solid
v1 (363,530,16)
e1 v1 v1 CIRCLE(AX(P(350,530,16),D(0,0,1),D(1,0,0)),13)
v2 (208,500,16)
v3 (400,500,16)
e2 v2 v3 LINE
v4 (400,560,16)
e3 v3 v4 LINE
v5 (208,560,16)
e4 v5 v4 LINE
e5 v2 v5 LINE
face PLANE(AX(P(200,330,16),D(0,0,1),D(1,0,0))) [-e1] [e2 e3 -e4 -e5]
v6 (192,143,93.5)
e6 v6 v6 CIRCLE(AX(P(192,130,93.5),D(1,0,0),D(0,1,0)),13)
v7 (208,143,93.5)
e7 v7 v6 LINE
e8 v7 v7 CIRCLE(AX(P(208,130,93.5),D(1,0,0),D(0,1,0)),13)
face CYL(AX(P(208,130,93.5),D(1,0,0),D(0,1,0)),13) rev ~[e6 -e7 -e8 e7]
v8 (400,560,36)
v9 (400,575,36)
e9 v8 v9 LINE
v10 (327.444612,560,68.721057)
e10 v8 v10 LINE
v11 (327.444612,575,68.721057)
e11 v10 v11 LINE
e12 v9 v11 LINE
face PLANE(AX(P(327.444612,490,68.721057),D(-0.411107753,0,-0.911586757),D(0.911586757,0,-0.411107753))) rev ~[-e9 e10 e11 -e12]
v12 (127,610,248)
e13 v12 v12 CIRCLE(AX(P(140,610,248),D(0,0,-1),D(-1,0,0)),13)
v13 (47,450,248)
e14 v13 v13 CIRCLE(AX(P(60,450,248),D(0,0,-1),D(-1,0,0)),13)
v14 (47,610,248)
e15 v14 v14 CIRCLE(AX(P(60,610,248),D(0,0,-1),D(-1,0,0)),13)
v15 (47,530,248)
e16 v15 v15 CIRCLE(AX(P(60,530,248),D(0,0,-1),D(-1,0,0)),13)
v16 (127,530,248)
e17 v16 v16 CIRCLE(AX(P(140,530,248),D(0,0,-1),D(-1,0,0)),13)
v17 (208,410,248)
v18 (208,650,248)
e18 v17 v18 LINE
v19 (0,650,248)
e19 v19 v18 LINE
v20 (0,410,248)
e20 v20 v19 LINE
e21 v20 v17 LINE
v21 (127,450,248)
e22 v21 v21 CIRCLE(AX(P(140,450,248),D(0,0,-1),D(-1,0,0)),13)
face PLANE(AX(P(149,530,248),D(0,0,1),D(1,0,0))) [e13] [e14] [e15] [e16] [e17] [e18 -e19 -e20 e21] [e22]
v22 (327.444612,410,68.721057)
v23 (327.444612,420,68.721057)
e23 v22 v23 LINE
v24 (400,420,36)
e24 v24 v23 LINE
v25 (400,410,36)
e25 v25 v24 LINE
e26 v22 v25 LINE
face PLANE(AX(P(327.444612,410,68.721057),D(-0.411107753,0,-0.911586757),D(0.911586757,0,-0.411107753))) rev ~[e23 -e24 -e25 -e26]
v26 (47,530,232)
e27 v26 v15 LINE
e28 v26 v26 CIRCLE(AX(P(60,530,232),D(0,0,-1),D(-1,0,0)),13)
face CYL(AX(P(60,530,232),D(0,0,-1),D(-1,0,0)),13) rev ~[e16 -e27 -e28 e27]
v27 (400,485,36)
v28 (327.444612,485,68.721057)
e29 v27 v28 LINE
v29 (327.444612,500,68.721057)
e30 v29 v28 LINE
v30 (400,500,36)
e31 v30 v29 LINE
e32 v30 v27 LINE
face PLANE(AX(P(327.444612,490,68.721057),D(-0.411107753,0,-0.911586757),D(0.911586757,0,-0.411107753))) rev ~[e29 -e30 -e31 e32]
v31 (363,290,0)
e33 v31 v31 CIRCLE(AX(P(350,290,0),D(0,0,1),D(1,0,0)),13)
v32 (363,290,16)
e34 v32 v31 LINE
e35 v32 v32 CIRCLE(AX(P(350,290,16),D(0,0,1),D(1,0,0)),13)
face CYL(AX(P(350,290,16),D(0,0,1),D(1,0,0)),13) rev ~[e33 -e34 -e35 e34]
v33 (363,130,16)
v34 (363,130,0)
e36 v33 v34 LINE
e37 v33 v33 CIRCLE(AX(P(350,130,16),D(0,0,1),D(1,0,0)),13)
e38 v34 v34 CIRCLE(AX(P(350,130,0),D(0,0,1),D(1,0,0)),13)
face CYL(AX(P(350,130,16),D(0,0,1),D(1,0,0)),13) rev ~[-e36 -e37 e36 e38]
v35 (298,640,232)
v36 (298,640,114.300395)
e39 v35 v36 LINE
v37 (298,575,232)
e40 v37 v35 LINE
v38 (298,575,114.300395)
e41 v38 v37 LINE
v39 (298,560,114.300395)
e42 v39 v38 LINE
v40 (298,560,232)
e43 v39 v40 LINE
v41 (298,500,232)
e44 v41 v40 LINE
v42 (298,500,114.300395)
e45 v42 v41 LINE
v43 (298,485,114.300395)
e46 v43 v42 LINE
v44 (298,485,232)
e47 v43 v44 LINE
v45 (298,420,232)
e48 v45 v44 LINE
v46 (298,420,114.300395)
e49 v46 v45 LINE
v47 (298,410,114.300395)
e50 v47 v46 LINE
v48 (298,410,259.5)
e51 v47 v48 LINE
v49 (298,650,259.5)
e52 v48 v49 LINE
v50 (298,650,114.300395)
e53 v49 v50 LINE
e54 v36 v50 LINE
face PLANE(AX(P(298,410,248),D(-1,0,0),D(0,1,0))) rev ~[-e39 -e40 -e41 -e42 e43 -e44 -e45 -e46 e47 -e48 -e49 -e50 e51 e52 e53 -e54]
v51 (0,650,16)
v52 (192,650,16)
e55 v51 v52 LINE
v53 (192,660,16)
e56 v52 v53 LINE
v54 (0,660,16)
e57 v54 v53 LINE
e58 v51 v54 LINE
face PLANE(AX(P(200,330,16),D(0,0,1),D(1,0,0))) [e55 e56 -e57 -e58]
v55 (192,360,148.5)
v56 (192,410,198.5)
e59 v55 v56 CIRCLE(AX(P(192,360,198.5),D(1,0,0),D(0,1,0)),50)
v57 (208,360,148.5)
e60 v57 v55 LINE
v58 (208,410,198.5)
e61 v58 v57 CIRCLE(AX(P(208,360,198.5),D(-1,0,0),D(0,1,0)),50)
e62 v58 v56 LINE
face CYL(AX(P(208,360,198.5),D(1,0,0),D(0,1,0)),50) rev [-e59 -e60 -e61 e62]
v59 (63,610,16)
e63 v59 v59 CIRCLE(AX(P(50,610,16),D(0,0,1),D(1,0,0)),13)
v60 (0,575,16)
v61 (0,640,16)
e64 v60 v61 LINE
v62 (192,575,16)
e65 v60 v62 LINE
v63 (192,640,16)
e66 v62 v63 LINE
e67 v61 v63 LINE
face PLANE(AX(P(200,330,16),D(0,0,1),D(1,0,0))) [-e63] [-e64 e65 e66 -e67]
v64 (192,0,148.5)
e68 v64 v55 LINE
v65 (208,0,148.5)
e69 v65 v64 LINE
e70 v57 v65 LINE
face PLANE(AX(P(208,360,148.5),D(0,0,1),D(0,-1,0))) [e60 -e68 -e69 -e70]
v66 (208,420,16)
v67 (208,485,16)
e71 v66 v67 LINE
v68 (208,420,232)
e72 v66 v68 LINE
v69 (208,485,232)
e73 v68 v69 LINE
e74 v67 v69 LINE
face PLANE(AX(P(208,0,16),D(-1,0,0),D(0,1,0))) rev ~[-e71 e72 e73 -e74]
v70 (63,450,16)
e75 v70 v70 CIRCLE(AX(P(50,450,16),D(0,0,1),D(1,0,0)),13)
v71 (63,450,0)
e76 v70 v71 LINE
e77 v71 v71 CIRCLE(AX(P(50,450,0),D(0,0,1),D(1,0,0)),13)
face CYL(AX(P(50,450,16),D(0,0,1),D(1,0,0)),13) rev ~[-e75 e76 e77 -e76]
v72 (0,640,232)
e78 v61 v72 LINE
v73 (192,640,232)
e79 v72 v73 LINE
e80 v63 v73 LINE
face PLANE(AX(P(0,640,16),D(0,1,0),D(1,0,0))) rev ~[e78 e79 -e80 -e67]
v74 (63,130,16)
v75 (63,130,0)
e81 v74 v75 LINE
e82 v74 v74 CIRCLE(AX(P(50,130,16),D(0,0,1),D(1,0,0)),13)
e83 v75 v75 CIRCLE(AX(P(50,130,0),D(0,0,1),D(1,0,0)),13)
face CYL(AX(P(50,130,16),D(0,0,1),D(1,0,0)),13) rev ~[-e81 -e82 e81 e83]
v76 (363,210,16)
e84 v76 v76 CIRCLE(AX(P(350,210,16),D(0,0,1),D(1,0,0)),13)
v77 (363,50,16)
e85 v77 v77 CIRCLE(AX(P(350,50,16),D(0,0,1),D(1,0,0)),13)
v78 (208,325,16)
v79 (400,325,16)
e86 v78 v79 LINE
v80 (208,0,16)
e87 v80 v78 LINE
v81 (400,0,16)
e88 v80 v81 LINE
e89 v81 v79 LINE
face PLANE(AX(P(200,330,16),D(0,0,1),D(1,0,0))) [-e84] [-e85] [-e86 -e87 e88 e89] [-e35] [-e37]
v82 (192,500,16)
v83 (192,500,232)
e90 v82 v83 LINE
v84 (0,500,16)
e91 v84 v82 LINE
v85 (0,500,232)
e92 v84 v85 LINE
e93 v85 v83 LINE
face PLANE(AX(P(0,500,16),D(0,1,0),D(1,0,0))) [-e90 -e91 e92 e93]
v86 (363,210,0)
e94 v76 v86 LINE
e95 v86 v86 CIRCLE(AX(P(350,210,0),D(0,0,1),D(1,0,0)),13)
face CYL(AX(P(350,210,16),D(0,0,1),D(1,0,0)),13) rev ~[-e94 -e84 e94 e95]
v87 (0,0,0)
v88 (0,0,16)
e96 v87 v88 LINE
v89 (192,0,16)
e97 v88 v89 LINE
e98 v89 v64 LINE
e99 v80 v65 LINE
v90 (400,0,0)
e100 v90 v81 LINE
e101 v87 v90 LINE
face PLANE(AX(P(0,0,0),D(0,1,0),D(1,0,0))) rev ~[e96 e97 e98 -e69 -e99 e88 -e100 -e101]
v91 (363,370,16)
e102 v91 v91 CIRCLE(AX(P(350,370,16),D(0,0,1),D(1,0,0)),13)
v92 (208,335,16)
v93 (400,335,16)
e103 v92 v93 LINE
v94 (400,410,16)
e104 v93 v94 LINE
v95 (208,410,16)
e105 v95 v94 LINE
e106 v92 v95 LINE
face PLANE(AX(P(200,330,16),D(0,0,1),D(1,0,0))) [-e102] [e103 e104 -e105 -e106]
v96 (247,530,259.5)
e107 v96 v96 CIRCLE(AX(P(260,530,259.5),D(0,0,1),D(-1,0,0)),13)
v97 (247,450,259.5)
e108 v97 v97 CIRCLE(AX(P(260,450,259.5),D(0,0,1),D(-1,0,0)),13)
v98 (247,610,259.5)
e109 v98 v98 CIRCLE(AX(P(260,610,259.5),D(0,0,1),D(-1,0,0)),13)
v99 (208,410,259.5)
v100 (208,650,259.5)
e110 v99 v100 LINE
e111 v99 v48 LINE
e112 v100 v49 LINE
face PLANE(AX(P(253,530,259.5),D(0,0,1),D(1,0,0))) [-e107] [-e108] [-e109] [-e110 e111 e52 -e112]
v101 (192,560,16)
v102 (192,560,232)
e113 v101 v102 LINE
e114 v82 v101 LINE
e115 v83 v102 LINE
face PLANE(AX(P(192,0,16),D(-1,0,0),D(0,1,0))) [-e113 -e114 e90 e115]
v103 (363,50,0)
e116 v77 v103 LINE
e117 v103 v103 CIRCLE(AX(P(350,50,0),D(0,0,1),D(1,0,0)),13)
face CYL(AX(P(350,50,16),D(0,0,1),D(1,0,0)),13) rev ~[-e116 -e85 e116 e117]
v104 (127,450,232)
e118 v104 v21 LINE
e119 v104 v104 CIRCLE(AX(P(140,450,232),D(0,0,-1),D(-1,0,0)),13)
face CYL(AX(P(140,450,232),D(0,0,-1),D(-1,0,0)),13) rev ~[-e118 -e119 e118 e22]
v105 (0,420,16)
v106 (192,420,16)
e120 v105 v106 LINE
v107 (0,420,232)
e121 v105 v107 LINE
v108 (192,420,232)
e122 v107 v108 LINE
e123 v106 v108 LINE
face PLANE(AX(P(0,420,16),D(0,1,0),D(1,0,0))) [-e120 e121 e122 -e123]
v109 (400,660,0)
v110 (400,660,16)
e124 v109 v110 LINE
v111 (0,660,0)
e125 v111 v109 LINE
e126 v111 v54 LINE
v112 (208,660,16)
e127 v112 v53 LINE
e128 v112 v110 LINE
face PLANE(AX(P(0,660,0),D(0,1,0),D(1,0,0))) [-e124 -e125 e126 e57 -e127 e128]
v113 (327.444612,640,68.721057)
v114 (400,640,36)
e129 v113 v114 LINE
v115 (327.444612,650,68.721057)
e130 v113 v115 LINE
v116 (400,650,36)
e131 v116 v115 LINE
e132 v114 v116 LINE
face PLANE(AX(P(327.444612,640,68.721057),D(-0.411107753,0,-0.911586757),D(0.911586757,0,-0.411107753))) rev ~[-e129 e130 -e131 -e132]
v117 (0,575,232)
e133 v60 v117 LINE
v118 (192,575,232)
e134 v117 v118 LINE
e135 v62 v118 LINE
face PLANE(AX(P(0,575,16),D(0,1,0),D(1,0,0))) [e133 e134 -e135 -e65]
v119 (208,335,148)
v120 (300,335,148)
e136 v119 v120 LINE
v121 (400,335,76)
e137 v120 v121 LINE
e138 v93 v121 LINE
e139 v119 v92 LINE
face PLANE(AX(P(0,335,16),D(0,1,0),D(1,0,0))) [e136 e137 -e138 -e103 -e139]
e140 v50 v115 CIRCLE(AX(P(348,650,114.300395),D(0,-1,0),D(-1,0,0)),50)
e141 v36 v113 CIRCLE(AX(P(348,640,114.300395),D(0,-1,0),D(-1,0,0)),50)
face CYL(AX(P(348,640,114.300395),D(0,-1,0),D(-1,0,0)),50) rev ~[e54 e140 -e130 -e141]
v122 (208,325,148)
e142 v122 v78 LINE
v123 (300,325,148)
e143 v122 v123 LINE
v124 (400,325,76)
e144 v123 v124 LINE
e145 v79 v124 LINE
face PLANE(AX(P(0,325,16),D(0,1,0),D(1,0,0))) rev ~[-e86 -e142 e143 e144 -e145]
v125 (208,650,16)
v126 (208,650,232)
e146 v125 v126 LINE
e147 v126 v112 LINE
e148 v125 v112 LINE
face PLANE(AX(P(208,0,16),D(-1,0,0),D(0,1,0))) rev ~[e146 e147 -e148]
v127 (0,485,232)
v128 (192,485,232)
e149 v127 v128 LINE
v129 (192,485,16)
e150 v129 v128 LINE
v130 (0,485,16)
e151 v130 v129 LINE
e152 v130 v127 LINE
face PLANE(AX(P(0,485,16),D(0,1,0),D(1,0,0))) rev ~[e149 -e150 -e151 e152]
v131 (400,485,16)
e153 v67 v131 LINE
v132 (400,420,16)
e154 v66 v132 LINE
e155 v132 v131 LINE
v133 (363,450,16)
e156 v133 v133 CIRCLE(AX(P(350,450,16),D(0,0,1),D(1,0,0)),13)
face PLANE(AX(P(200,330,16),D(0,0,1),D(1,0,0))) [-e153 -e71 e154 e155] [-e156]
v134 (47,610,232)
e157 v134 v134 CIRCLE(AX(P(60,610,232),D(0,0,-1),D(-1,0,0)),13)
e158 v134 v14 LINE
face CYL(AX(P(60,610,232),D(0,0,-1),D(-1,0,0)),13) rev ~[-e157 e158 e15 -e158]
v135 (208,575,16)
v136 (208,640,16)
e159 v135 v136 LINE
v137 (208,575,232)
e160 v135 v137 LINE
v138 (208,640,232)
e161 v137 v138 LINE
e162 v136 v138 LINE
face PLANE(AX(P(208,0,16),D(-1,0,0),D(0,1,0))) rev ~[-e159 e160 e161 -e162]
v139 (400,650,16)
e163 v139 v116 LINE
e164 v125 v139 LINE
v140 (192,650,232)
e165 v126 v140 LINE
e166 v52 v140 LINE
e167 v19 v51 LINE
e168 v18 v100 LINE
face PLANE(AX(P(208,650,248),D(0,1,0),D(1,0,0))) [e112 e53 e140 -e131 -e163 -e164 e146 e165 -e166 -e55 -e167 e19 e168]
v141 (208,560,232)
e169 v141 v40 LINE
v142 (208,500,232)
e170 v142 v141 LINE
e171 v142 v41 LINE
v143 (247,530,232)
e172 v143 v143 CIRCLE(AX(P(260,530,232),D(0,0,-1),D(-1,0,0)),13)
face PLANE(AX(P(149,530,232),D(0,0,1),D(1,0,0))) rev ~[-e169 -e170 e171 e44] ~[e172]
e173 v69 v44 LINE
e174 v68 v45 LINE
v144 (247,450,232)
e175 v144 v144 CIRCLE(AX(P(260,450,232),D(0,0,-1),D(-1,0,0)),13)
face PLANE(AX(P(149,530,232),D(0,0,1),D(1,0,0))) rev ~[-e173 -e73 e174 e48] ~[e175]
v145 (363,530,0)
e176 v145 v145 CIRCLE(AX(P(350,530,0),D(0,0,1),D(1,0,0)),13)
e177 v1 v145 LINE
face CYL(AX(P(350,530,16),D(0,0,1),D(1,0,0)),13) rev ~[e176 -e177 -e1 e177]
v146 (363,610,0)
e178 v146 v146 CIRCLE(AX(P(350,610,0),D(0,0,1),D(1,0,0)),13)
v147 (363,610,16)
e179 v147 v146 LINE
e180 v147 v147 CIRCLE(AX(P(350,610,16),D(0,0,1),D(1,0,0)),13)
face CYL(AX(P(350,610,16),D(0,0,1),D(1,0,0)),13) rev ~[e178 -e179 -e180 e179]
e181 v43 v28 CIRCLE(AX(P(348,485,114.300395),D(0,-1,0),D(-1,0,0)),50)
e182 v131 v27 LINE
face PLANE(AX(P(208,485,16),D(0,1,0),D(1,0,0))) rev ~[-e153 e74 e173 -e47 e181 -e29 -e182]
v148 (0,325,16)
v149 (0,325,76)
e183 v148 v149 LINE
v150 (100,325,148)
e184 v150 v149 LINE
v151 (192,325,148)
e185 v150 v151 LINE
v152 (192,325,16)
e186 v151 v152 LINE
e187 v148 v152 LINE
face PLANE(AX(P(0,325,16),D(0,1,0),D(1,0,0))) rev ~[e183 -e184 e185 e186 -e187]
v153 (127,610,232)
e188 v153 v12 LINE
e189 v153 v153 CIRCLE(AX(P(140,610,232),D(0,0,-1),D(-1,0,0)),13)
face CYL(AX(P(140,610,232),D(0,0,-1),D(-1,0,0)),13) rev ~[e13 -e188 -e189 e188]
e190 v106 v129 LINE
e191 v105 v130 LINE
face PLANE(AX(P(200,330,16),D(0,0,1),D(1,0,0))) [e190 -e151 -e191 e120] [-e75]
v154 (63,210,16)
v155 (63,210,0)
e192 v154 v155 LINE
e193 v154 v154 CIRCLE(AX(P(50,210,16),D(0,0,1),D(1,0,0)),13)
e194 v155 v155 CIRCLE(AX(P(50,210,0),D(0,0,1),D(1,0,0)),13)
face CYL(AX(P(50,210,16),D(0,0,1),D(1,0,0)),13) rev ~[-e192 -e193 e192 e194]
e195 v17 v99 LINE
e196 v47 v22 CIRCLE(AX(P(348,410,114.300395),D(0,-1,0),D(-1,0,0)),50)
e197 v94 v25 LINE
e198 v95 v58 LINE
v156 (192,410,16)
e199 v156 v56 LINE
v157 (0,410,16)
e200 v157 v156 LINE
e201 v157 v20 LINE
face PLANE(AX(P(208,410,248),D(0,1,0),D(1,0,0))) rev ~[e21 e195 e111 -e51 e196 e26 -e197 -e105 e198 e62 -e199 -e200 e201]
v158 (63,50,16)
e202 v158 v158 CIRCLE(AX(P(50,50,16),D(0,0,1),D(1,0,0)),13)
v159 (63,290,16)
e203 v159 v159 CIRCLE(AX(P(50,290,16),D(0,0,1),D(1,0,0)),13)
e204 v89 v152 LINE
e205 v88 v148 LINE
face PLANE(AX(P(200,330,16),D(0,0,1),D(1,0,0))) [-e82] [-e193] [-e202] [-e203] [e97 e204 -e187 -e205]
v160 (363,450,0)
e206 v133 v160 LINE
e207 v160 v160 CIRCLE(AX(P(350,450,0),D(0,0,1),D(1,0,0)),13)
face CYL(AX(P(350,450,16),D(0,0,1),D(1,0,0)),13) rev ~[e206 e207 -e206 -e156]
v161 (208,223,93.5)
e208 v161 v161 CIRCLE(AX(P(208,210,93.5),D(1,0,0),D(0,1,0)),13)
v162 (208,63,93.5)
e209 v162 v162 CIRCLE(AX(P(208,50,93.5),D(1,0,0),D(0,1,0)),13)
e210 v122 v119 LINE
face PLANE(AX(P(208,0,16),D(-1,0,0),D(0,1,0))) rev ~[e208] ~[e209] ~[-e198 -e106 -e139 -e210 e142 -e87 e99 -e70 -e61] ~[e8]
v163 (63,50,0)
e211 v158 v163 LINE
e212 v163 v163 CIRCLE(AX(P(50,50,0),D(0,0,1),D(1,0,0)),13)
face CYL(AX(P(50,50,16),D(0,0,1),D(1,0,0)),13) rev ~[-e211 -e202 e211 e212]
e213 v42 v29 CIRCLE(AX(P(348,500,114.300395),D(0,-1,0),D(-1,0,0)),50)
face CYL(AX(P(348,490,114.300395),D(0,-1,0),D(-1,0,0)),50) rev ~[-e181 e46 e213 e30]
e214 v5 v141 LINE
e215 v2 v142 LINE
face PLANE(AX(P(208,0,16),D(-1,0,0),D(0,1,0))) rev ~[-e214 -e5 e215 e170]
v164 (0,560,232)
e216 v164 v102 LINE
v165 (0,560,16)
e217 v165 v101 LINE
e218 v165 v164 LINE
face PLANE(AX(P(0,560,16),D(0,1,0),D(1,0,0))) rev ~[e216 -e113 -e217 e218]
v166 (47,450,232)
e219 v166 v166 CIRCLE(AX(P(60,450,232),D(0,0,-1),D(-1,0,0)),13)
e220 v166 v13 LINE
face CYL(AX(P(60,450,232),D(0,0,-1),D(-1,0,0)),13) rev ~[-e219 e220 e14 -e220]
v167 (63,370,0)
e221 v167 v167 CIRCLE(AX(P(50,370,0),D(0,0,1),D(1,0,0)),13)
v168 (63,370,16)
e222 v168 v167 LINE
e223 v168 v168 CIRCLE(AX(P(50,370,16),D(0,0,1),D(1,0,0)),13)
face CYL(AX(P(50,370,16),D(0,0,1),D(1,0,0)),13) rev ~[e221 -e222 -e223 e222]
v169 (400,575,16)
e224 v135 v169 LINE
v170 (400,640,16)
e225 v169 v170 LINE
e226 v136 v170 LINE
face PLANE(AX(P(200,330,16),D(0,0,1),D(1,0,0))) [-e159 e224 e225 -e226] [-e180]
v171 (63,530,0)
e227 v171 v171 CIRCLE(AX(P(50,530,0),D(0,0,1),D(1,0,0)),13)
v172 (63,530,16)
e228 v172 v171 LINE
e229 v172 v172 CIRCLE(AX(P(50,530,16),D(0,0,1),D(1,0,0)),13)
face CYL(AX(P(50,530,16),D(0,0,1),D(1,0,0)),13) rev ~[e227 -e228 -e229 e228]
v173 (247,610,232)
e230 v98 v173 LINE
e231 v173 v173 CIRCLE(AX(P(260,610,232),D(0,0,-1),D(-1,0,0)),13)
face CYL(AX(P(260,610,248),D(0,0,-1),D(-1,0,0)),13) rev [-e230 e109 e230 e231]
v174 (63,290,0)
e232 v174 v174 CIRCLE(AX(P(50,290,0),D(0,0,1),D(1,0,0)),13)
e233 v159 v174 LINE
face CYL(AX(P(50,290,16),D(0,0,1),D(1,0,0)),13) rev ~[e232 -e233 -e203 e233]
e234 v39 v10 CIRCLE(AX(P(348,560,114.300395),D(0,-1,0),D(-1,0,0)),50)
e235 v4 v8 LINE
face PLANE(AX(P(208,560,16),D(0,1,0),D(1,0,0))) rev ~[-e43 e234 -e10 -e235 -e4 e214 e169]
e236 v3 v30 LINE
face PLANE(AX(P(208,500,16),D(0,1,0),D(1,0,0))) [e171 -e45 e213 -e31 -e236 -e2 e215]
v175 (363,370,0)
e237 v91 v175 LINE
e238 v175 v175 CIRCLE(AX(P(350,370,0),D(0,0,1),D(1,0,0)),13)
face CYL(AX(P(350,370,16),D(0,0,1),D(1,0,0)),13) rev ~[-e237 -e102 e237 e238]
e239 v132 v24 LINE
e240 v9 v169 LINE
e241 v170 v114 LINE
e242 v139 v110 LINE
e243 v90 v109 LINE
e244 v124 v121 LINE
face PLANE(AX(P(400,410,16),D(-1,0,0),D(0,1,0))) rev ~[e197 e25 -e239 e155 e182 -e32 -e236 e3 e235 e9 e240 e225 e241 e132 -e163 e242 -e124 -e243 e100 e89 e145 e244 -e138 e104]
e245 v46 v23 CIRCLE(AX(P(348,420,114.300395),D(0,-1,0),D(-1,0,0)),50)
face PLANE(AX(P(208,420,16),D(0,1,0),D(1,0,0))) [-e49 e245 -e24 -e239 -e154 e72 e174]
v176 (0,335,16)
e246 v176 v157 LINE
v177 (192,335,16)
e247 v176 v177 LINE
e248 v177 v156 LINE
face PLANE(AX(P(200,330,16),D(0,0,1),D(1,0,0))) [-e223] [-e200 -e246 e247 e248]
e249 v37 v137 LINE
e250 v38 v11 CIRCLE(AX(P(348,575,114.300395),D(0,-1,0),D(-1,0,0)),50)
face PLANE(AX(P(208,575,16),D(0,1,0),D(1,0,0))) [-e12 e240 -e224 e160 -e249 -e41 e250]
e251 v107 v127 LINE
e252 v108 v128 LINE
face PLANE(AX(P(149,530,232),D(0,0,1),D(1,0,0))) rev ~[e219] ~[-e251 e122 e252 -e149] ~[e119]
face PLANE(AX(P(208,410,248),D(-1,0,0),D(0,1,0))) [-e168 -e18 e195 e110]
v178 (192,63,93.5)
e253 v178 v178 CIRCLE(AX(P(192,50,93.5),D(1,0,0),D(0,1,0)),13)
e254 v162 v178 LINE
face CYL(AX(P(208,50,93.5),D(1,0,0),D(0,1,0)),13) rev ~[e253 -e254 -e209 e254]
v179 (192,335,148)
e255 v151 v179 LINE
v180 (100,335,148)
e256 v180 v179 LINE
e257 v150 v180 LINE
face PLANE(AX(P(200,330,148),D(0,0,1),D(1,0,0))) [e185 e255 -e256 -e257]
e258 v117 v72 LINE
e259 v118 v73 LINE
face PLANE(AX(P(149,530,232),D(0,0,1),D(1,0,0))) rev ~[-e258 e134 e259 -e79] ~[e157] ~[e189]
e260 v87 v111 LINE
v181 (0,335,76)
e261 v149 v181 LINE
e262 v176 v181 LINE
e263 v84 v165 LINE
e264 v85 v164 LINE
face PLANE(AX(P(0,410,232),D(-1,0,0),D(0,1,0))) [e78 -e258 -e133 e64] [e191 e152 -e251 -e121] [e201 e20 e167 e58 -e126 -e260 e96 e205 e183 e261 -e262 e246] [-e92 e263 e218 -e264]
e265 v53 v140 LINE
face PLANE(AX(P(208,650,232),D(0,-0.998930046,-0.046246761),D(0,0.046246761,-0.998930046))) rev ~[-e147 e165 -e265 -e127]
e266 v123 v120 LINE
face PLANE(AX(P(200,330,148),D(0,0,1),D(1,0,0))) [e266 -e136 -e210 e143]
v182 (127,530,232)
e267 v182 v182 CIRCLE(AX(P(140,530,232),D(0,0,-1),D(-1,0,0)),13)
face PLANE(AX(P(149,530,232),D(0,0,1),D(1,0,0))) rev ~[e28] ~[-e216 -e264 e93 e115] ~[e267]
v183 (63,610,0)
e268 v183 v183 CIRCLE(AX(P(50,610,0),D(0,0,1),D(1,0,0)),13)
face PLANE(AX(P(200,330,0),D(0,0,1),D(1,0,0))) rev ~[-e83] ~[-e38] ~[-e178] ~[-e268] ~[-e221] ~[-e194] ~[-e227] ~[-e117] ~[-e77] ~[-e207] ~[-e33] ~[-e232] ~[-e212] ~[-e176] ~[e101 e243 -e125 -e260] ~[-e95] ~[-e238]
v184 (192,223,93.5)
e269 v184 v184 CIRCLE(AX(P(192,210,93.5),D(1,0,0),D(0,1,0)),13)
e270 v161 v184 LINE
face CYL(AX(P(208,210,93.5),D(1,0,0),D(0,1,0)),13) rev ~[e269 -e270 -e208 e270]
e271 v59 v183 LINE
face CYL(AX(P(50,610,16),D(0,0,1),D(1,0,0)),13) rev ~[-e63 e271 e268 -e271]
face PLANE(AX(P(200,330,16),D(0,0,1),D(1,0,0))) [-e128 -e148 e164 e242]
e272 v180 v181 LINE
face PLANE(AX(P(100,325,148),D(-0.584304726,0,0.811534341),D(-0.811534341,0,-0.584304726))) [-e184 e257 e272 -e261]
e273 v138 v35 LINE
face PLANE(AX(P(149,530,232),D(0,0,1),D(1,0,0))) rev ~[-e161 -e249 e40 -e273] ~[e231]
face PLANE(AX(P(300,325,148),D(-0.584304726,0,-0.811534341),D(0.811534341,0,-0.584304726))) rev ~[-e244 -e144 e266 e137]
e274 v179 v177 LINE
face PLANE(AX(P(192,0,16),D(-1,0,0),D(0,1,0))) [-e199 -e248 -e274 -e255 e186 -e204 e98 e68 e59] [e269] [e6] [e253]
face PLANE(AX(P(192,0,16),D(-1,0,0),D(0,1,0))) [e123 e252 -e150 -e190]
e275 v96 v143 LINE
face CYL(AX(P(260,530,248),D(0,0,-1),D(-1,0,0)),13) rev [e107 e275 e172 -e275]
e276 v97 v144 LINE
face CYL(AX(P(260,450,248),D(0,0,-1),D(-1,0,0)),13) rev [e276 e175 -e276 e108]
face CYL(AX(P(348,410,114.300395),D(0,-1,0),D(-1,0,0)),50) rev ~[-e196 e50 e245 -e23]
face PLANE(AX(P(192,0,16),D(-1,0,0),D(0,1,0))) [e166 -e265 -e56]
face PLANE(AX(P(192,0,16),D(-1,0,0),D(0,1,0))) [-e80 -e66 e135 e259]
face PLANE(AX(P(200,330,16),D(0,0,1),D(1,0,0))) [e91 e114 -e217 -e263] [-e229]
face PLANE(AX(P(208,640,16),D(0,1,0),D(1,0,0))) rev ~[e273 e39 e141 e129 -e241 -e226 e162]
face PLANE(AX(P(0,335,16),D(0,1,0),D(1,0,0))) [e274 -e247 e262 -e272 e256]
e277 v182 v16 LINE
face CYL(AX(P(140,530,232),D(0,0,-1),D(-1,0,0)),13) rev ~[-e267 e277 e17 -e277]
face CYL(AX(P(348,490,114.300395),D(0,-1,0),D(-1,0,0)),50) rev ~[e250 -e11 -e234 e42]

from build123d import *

# Parameters (mm, degrees)
SKETCH_1_W                       = 400
SKETCH_1_H                       = 660
EXTRUDE_1_DEPTH                  = 16
SKETCH_2_R                       = 13
CUT_EXTRUDE_1_DEPTH              = 772.917093994
PATTERN_LINEAR_1_COUNT           = 2
PATTERN_LINEAR_1_PITCH           = 300
PATTERN_LINEAR_1_COUNT_DIR2      = 8
PATTERN_LINEAR_1_PITCH_DIR2      = 80
SKETCH_3_W                       = 16
SKETCH_3_H                       = 660
EXTRUDE_2_DEPTH                  = 216
SKETCH_4_R                       = 13
CUT_EXTRUDE_2_DEPTH              = 730.854780076
SKETCH_5_W                       = 192
SKETCH_5_H                       = 10
EXTRUDE_3_DEPTH                  = 216
CUT_EXTRUDE_3_DEPTH              = 790.572035979
PATTERN_LINEAR_2_COUNT           = 2
PATTERN_LINEAR_2_PITCH           = 75
PATTERN_LINEAR_3_COUNT           = 2
PATTERN_LINEAR_3_PITCH           = 80
PATTERN_LINEAR_3_COPY_1_SKETCH_W = 192
PATTERN_LINEAR_3_COPY_1_SKETCH_H = 10
PATTERN_LINEAR_3_COPY_1_DEPTH    = 216
PATTERN_LINEAR_3_COPY_2_DEPTH    = 790.572035979
PATTERN_LINEAR_3_COPY_3_DEPTH    = 790.572035979
PATTERN_LINEAR_4_COUNT           = 2
PATTERN_LINEAR_4_PITCH           = 75
PATTERN_LINEAR_4_COPY_1_SKETCH_W = 192
PATTERN_LINEAR_4_COPY_1_SKETCH_H = 10
PATTERN_LINEAR_4_COPY_1_DEPTH    = 216
PATTERN_LINEAR_4_COPY_2_DEPTH    = 790.572035979
PATTERN_LINEAR_4_COPY_3_DEPTH    = 790.572035979
PATTERN_LINEAR_4_COPY_4_SKETCH_W = 192
PATTERN_LINEAR_4_COPY_4_SKETCH_H = 10
PATTERN_LINEAR_4_COPY_4_DEPTH    = 216
PATTERN_LINEAR_4_COPY_5_SKETCH_W = 192
PATTERN_LINEAR_4_COPY_5_SKETCH_H = 10
PATTERN_LINEAR_4_COPY_5_DEPTH    = 216
PATTERN_LINEAR_4_COPY_6_DEPTH    = 790.572035979
PATTERN_LINEAR_4_COPY_7_DEPTH    = 790.572035979
PATTERN_LINEAR_4_COPY_8_DEPTH    = 790.572035979
SKETCH_7_W                       = 400
SKETCH_7_H                       = 10
EXTRUDE_4_DEPTH                  = 132
CUT_EXTRUDE_4_DEPTH              = 10
SKETCH_9_W                       = 298
SKETCH_9_H                       = 240
EXTRUDE_5_DEPTH                  = 16
SKETCH_10_R                      = 13
CUT_EXTRUDE_5_DEPTH              = 806.868475621
PATTERN_LINEAR_6_COUNT           = 3
PATTERN_LINEAR_6_PITCH           = 80
PATTERN_LINEAR_7_COUNT           = 2
PATTERN_LINEAR_7_PITCH           = 120
PATTERN_LINEAR_7_COPY_1_SKETCH_R = 13
PATTERN_LINEAR_7_COPY_1_DEPTH    = 806.868475621
PATTERN_LINEAR_7_COPY_2_SKETCH_R = 13
PATTERN_LINEAR_7_COPY_2_DEPTH    = 806.868475621
PATTERN_LINEAR_8_COUNT           = 2
PATTERN_LINEAR_8_PITCH           = 80
PATTERN_LINEAR_8_COPY_1_SKETCH_R = 13
PATTERN_LINEAR_8_COPY_1_DEPTH    = 806.868475621
PATTERN_LINEAR_8_COPY_2_SKETCH_R = 13
PATTERN_LINEAR_8_COPY_2_DEPTH    = 806.868475621
SKETCH_11_W                      = 90
SKETCH_11_H                      = 240
SKETCH_11_R                      = 13
EXTRUDE_6_DEPTH                  = 11.5


with BuildPart() as part:
    # 草图1 → 凸台-拉伸1 (new body)
    with BuildSketch(Plane.XY):
        with Locations((200, 330)):
            Rectangle(SKETCH_1_W, SKETCH_1_H)
    extrude(amount=EXTRUDE_1_DEPTH)

    # 草图2 → 切除-拉伸1 (cut, through all)
    with BuildSketch(Plane.XY.offset(16)):
        with Locations((50, 610)):
            Circle(SKETCH_2_R)
    cut_extrude_1 = extrude(amount=-CUT_EXTRUDE_1_DEPTH, mode=Mode.SUBTRACT)

    # 阵列(线性)1: Cut-Extrude 1 2 × 8
    with Locations(*[(i * PATTERN_LINEAR_1_PITCH, -j * PATTERN_LINEAR_1_PITCH_DIR2, 0) for i in range(PATTERN_LINEAR_1_COUNT) for j in range(PATTERN_LINEAR_1_COUNT_DIR2) if (i, j) != (0, 0)]):
        add(cut_extrude_1, mode=Mode.SUBTRACT)

    # 草图3 → 凸台-拉伸2 (add)
    with BuildSketch(Plane.XY.offset(16)):
        with Locations((200, 330)):
            Rectangle(SKETCH_3_W, SKETCH_3_H)
    extrude(amount=EXTRUDE_2_DEPTH)

    # 草图4 → 切除-拉伸2 (cut, through all)
    with BuildSketch(Plane(origin=(208, 0, 0), x_dir=(0, 0, -1), z_dir=(1, 0, 0))):
        with Locations(Location((-93.5, 50, 0), (0, 0, 90))):
            Circle(SKETCH_4_R)
        with Locations(Location((-93.5, 130, 0), (0, 0, 90))):
            Circle(SKETCH_4_R)
        with Locations(Location((-93.5, 210, 0), (0, 0, 90))):
            Circle(SKETCH_4_R)
        Polygon((-232, 660), (-232, 650), (-16, 660), align=None)
        with BuildLine():
            Line((-232, 410), (-198.5, 410))
            ThreePointArc((-198.5, 410), (-163.144660941, 395.355339059), (-148.5, 360))
            Line((-148.5, 360), (-148.5, 0))
            Line((-148.5, 0), (-232, 0))
            Line((-232, 0), (-232, 410))
        make_face()
    extrude(amount=-CUT_EXTRUDE_2_DEPTH, mode=Mode.SUBTRACT)

    # 草图5 → 凸台-拉伸3 (add)
    with BuildSketch(Plane.XY.offset(16)):
        with Locations((304, 645)):
            Rectangle(SKETCH_5_W, SKETCH_5_H)
        with Locations((96, 645)):
            Rectangle(SKETCH_5_W, SKETCH_5_H)
    extrude_3 = extrude(amount=EXTRUDE_3_DEPTH)

    # 草图6 → 切除-拉伸3 (cut, through all)
    with BuildSketch(Plane.XZ.offset(-640)):
        with BuildLine():
            Line((298, 232), (298, 114.300395022))
            ThreePointArc((298, 114.300395022), (306.001372744, 87.168950007), (327.444612345, 68.721057178))
            Line((327.444612345, 68.721057178), (400, 36))
            Line((400, 36), (400, 232))
            Line((400, 232), (298, 232))
        make_face()
    cut_extrude_3 = extrude(amount=-CUT_EXTRUDE_3_DEPTH, mode=Mode.SUBTRACT)

    # 阵列(线性)2: 凸台-拉伸3, 切除-拉伸3 ×2
    with Locations(*[(0, -i * PATTERN_LINEAR_2_PITCH, 0) for i in range(1, PATTERN_LINEAR_2_COUNT)]):
        add(extrude_3)
        add(cut_extrude_3, mode=Mode.SUBTRACT)

    # 阵列(线性)3: 凸台-拉伸3 ×2
    with Locations(*[(0, -i * PATTERN_LINEAR_3_PITCH, 0) for i in range(1, PATTERN_LINEAR_3_COUNT)]):
        add(extrude_3)

    # 阵列(线性)3 copy 1 sketch → 阵列(线性)3 copy 1 (add)
    with BuildSketch(Plane(origin=(0, -155, 16), x_dir=(1, 0, 0), z_dir=(0, 0, 1))):
        with Locations((304, 645)):
            Rectangle(PATTERN_LINEAR_3_COPY_1_SKETCH_W, PATTERN_LINEAR_3_COPY_1_SKETCH_H)
        with Locations((96, 645)):
            Rectangle(PATTERN_LINEAR_3_COPY_1_SKETCH_W, PATTERN_LINEAR_3_COPY_1_SKETCH_H)
    extrude(amount=PATTERN_LINEAR_3_COPY_1_DEPTH)

    # 阵列(线性)3 copy 2 sketch → 阵列(线性)3 copy 2 (cut, through all)
    with BuildSketch(Plane.XZ.offset(-485)):
        with BuildLine():
            Line((298, 232), (298, 114.300395022))
            ThreePointArc((298, 114.300395022), (306.001372744, 87.168950007), (327.444612345, 68.721057178))
            Line((327.444612345, 68.721057178), (400, 36))
            Line((400, 36), (400, 232))
            Line((400, 232), (298, 232))
        make_face()
    extrude(amount=-PATTERN_LINEAR_3_COPY_2_DEPTH, mode=Mode.SUBTRACT)

    # 阵列(线性)3 copy 3 sketch → 阵列(线性)3 copy 3 (cut, through all)
    with BuildSketch(Plane.XZ.offset(-560)):
        with BuildLine():
            Line((298, 232), (298, 114.300395022))
            ThreePointArc((298, 114.300395022), (306.001372744, 87.168950007), (327.444612345, 68.721057178))
            Line((327.444612345, 68.721057178), (400, 36))
            Line((400, 36), (400, 232))
            Line((400, 232), (298, 232))
        make_face()
    extrude(amount=-PATTERN_LINEAR_3_COPY_3_DEPTH, mode=Mode.SUBTRACT)

    # 阵列(线性)4: 凸台-拉伸3 ×2
    with Locations(*[(0, -i * PATTERN_LINEAR_4_PITCH, 0) for i in range(1, PATTERN_LINEAR_4_COUNT)]):
        add(extrude_3)

    # 阵列(线性)4 copy 1 sketch → 阵列(线性)4 copy 1 (add)
    with BuildSketch(Plane(origin=(0, -150, 16), x_dir=(1, 0, 0), z_dir=(0, 0, 1))):
        with Locations((304, 645)):
            Rectangle(PATTERN_LINEAR_4_COPY_1_SKETCH_W, PATTERN_LINEAR_4_COPY_1_SKETCH_H)
        with Locations((96, 645)):
            Rectangle(PATTERN_LINEAR_4_COPY_1_SKETCH_W, PATTERN_LINEAR_4_COPY_1_SKETCH_H)
    extrude(amount=PATTERN_LINEAR_4_COPY_1_DEPTH)

    # 阵列(线性)4 copy 2 sketch → 阵列(线性)4 copy 2 (cut, through all)
    with BuildSketch(Plane.XZ.offset(-490)):
        with BuildLine():
            Line((298, 232), (298, 114.300395022))
            ThreePointArc((298, 114.300395022), (306.001372744, 87.168950007), (327.444612345, 68.721057178))
            Line((327.444612345, 68.721057178), (400, 36))
            Line((400, 36), (400, 232))
            Line((400, 232), (298, 232))
        make_face()
    extrude(amount=-PATTERN_LINEAR_4_COPY_2_DEPTH, mode=Mode.SUBTRACT)

    # 阵列(线性)4 copy 3 sketch → 阵列(线性)4 copy 3 (cut, through all)
    with BuildSketch(Plane.XZ.offset(-565)):
        with BuildLine():
            Line((298, 232), (298, 114.300395022))
            ThreePointArc((298, 114.300395022), (306.001372744, 87.168950007), (327.444612345, 68.721057178))
            Line((327.444612345, 68.721057178), (400, 36))
            Line((400, 36), (400, 232))
            Line((400, 232), (298, 232))
        make_face()
    extrude(amount=-PATTERN_LINEAR_4_COPY_3_DEPTH, mode=Mode.SUBTRACT)

    # 阵列(线性)4 copy 4 sketch → 阵列(线性)4 copy 4 (add)
    with BuildSketch(Plane(origin=(0, -155, 16), x_dir=(1, 0, 0), z_dir=(0, 0, 1))):
        with Locations((304, 645)):
            Rectangle(PATTERN_LINEAR_4_COPY_4_SKETCH_W, PATTERN_LINEAR_4_COPY_4_SKETCH_H)
        with Locations((96, 645)):
            Rectangle(PATTERN_LINEAR_4_COPY_4_SKETCH_W, PATTERN_LINEAR_4_COPY_4_SKETCH_H)
    extrude(amount=PATTERN_LINEAR_4_COPY_4_DEPTH)

    # 阵列(线性)4 copy 5 sketch → 阵列(线性)4 copy 5 (add)
    with BuildSketch(Plane(origin=(0, -230, 16), x_dir=(1, 0, 0), z_dir=(0, 0, 1))):
        with Locations((304, 645)):
            Rectangle(PATTERN_LINEAR_4_COPY_5_SKETCH_W, PATTERN_LINEAR_4_COPY_5_SKETCH_H)
        with Locations((96, 645)):
            Rectangle(PATTERN_LINEAR_4_COPY_5_SKETCH_W, PATTERN_LINEAR_4_COPY_5_SKETCH_H)
    extrude(amount=PATTERN_LINEAR_4_COPY_5_DEPTH)

    # 阵列(线性)4 copy 6 sketch → 阵列(线性)4 copy 6 (cut, through all)
    with BuildSketch(Plane.XZ.offset(-410)):
        with BuildLine():
            Line((298, 232), (298, 114.300395022))
            ThreePointArc((298, 114.300395022), (306.001372744, 87.168950007), (327.444612345, 68.721057178))
            Line((327.444612345, 68.721057178), (400, 36))
            Line((400, 36), (400, 232))
            Line((400, 232), (298, 232))
        make_face()
    extrude(amount=-PATTERN_LINEAR_4_COPY_6_DEPTH, mode=Mode.SUBTRACT)

    # 阵列(线性)4 copy 7 sketch → 阵列(线性)4 copy 7 (cut, through all)
    with BuildSketch(Plane.XZ.offset(-485)):
        with BuildLine():
            Line((298, 232), (298, 114.300395022))
            ThreePointArc((298, 114.300395022), (306.001372744, 87.168950007), (327.444612345, 68.721057178))
            Line((327.444612345, 68.721057178), (400, 36))
            Line((400, 36), (400, 232))
            Line((400, 232), (298, 232))
        make_face()
    extrude(amount=-PATTERN_LINEAR_4_COPY_7_DEPTH, mode=Mode.SUBTRACT)

    # 阵列(线性)4 copy 8 sketch → 阵列(线性)4 copy 8 (cut, through all)
    with BuildSketch(Plane.XZ.offset(-565)):
        with BuildLine():
            Line((298, 232), (298, 114.300395022))
            ThreePointArc((298, 114.300395022), (306.001372744, 87.168950007), (327.444612345, 68.721057178))
            Line((327.444612345, 68.721057178), (400, 36))
            Line((400, 36), (400, 232))
            Line((400, 232), (298, 232))
        make_face()
    extrude(amount=-PATTERN_LINEAR_4_COPY_8_DEPTH, mode=Mode.SUBTRACT)

    # 草图7 → 凸台-拉伸4 (add)
    with BuildSketch(Plane.XY.offset(16)):
        with Locations((200, 330)):
            Rectangle(SKETCH_7_W, SKETCH_7_H)
    extrude(amount=EXTRUDE_4_DEPTH)

    # 草图8 → 切除-拉伸4 (cut)
    with BuildSketch(Plane(origin=(0, 325, 0), x_dir=(-1, 0, 0), z_dir=(0, -1, 0))):
        Polygon((-400, -148), (-300, -148), (-400, -76), align=None)
        Polygon((0, -148), (-100, -148), (0, -76), align=None)
    extrude(amount=-CUT_EXTRUDE_4_DEPTH, mode=Mode.SUBTRACT)

    # 草图9 → 凸台-拉伸5 (add)
    with BuildSketch(Plane.XY.offset(232)):
        with Locations((149, 530)):
            Rectangle(SKETCH_9_W, SKETCH_9_H)
    extrude(amount=EXTRUDE_5_DEPTH)

    # 草图10 → 切除-拉伸5 (cut, through all)
    with BuildSketch(Plane(origin=(0, 0, 232), x_dir=(-1, 0, 0), z_dir=(0, 0, -1))):
        with Locations((-140, 450)):
            Circle(SKETCH_10_R)
    cut_extrude_5 = extrude(amount=-CUT_EXTRUDE_5_DEPTH, mode=Mode.SUBTRACT)

    # 阵列(线性)6: 切除-拉伸5 ×3
    with Locations(*[(0, i * PATTERN_LINEAR_6_PITCH, 0) for i in range(1, PATTERN_LINEAR_6_COUNT)]):
        add(cut_extrude_5, mode=Mode.SUBTRACT)

    # 阵列(线性)7: 切除-拉伸5 ×2
    with Locations(*[(i * PATTERN_LINEAR_7_PITCH, 0, 0) for i in range(1, PATTERN_LINEAR_7_COUNT)]):
        add(cut_extrude_5, mode=Mode.SUBTRACT)

    # 阵列(线性)7 copy 1 sketch → 阵列(线性)7 copy 1 (cut, through all)
    with BuildSketch(Plane(origin=(120, 80, 232), x_dir=(-1, 0, 0), z_dir=(0, 0, -1))):
        with Locations((-140, 450)):
            Circle(PATTERN_LINEAR_7_COPY_1_SKETCH_R)
    extrude(amount=-PATTERN_LINEAR_7_COPY_1_DEPTH, mode=Mode.SUBTRACT)

    # 阵列(线性)7 copy 2 sketch → 阵列(线性)7 copy 2 (cut, through all)
    with BuildSketch(Plane(origin=(120, 160, 232), x_dir=(-1, 0, 0), z_dir=(0, 0, -1))):
        with Locations((-140, 450)):
            Circle(PATTERN_LINEAR_7_COPY_2_SKETCH_R)
    extrude(amount=-PATTERN_LINEAR_7_COPY_2_DEPTH, mode=Mode.SUBTRACT)

    # 阵列(线性)8: 切除-拉伸5 ×2
    with Locations(*[(-i * PATTERN_LINEAR_8_PITCH, 0, 0) for i in range(1, PATTERN_LINEAR_8_COUNT)]):
        add(cut_extrude_5, mode=Mode.SUBTRACT)

    # 阵列(线性)8 copy 1 sketch → 阵列(线性)8 copy 1 (cut, through all)
    with BuildSketch(Plane(origin=(-80, 80, 232), x_dir=(-1, 0, 0), z_dir=(0, 0, -1))):
        with Locations((-140, 450)):
            Circle(PATTERN_LINEAR_8_COPY_1_SKETCH_R)
    extrude(amount=-PATTERN_LINEAR_8_COPY_1_DEPTH, mode=Mode.SUBTRACT)

    # 阵列(线性)8 copy 2 sketch → 阵列(线性)8 copy 2 (cut, through all)
    with BuildSketch(Plane(origin=(-80, 160, 232), x_dir=(-1, 0, 0), z_dir=(0, 0, -1))):
        with Locations((-140, 450)):
            Circle(PATTERN_LINEAR_8_COPY_2_SKETCH_R)
    extrude(amount=-PATTERN_LINEAR_8_COPY_2_DEPTH, mode=Mode.SUBTRACT)

    # 草图11 → 凸台-拉伸6 (add)
    with BuildSketch(Plane.XY.offset(248)):
        with Locations((253, 530)):
            Rectangle(SKETCH_11_W, SKETCH_11_H)
        with Locations(Location((260, 610, 0), (0, 0, 180))):
            Circle(SKETCH_11_R, mode=Mode.SUBTRACT)
        with Locations(Location((260, 530, 0), (0, 0, 180))):
            Circle(SKETCH_11_R, mode=Mode.SUBTRACT)
        with Locations(Location((260, 450, 0), (0, 0, 180))):
            Circle(SKETCH_11_R, mode=Mode.SUBTRACT)
    extrude(amount=EXTRUDE_6_DEPTH)


solid = part.part
